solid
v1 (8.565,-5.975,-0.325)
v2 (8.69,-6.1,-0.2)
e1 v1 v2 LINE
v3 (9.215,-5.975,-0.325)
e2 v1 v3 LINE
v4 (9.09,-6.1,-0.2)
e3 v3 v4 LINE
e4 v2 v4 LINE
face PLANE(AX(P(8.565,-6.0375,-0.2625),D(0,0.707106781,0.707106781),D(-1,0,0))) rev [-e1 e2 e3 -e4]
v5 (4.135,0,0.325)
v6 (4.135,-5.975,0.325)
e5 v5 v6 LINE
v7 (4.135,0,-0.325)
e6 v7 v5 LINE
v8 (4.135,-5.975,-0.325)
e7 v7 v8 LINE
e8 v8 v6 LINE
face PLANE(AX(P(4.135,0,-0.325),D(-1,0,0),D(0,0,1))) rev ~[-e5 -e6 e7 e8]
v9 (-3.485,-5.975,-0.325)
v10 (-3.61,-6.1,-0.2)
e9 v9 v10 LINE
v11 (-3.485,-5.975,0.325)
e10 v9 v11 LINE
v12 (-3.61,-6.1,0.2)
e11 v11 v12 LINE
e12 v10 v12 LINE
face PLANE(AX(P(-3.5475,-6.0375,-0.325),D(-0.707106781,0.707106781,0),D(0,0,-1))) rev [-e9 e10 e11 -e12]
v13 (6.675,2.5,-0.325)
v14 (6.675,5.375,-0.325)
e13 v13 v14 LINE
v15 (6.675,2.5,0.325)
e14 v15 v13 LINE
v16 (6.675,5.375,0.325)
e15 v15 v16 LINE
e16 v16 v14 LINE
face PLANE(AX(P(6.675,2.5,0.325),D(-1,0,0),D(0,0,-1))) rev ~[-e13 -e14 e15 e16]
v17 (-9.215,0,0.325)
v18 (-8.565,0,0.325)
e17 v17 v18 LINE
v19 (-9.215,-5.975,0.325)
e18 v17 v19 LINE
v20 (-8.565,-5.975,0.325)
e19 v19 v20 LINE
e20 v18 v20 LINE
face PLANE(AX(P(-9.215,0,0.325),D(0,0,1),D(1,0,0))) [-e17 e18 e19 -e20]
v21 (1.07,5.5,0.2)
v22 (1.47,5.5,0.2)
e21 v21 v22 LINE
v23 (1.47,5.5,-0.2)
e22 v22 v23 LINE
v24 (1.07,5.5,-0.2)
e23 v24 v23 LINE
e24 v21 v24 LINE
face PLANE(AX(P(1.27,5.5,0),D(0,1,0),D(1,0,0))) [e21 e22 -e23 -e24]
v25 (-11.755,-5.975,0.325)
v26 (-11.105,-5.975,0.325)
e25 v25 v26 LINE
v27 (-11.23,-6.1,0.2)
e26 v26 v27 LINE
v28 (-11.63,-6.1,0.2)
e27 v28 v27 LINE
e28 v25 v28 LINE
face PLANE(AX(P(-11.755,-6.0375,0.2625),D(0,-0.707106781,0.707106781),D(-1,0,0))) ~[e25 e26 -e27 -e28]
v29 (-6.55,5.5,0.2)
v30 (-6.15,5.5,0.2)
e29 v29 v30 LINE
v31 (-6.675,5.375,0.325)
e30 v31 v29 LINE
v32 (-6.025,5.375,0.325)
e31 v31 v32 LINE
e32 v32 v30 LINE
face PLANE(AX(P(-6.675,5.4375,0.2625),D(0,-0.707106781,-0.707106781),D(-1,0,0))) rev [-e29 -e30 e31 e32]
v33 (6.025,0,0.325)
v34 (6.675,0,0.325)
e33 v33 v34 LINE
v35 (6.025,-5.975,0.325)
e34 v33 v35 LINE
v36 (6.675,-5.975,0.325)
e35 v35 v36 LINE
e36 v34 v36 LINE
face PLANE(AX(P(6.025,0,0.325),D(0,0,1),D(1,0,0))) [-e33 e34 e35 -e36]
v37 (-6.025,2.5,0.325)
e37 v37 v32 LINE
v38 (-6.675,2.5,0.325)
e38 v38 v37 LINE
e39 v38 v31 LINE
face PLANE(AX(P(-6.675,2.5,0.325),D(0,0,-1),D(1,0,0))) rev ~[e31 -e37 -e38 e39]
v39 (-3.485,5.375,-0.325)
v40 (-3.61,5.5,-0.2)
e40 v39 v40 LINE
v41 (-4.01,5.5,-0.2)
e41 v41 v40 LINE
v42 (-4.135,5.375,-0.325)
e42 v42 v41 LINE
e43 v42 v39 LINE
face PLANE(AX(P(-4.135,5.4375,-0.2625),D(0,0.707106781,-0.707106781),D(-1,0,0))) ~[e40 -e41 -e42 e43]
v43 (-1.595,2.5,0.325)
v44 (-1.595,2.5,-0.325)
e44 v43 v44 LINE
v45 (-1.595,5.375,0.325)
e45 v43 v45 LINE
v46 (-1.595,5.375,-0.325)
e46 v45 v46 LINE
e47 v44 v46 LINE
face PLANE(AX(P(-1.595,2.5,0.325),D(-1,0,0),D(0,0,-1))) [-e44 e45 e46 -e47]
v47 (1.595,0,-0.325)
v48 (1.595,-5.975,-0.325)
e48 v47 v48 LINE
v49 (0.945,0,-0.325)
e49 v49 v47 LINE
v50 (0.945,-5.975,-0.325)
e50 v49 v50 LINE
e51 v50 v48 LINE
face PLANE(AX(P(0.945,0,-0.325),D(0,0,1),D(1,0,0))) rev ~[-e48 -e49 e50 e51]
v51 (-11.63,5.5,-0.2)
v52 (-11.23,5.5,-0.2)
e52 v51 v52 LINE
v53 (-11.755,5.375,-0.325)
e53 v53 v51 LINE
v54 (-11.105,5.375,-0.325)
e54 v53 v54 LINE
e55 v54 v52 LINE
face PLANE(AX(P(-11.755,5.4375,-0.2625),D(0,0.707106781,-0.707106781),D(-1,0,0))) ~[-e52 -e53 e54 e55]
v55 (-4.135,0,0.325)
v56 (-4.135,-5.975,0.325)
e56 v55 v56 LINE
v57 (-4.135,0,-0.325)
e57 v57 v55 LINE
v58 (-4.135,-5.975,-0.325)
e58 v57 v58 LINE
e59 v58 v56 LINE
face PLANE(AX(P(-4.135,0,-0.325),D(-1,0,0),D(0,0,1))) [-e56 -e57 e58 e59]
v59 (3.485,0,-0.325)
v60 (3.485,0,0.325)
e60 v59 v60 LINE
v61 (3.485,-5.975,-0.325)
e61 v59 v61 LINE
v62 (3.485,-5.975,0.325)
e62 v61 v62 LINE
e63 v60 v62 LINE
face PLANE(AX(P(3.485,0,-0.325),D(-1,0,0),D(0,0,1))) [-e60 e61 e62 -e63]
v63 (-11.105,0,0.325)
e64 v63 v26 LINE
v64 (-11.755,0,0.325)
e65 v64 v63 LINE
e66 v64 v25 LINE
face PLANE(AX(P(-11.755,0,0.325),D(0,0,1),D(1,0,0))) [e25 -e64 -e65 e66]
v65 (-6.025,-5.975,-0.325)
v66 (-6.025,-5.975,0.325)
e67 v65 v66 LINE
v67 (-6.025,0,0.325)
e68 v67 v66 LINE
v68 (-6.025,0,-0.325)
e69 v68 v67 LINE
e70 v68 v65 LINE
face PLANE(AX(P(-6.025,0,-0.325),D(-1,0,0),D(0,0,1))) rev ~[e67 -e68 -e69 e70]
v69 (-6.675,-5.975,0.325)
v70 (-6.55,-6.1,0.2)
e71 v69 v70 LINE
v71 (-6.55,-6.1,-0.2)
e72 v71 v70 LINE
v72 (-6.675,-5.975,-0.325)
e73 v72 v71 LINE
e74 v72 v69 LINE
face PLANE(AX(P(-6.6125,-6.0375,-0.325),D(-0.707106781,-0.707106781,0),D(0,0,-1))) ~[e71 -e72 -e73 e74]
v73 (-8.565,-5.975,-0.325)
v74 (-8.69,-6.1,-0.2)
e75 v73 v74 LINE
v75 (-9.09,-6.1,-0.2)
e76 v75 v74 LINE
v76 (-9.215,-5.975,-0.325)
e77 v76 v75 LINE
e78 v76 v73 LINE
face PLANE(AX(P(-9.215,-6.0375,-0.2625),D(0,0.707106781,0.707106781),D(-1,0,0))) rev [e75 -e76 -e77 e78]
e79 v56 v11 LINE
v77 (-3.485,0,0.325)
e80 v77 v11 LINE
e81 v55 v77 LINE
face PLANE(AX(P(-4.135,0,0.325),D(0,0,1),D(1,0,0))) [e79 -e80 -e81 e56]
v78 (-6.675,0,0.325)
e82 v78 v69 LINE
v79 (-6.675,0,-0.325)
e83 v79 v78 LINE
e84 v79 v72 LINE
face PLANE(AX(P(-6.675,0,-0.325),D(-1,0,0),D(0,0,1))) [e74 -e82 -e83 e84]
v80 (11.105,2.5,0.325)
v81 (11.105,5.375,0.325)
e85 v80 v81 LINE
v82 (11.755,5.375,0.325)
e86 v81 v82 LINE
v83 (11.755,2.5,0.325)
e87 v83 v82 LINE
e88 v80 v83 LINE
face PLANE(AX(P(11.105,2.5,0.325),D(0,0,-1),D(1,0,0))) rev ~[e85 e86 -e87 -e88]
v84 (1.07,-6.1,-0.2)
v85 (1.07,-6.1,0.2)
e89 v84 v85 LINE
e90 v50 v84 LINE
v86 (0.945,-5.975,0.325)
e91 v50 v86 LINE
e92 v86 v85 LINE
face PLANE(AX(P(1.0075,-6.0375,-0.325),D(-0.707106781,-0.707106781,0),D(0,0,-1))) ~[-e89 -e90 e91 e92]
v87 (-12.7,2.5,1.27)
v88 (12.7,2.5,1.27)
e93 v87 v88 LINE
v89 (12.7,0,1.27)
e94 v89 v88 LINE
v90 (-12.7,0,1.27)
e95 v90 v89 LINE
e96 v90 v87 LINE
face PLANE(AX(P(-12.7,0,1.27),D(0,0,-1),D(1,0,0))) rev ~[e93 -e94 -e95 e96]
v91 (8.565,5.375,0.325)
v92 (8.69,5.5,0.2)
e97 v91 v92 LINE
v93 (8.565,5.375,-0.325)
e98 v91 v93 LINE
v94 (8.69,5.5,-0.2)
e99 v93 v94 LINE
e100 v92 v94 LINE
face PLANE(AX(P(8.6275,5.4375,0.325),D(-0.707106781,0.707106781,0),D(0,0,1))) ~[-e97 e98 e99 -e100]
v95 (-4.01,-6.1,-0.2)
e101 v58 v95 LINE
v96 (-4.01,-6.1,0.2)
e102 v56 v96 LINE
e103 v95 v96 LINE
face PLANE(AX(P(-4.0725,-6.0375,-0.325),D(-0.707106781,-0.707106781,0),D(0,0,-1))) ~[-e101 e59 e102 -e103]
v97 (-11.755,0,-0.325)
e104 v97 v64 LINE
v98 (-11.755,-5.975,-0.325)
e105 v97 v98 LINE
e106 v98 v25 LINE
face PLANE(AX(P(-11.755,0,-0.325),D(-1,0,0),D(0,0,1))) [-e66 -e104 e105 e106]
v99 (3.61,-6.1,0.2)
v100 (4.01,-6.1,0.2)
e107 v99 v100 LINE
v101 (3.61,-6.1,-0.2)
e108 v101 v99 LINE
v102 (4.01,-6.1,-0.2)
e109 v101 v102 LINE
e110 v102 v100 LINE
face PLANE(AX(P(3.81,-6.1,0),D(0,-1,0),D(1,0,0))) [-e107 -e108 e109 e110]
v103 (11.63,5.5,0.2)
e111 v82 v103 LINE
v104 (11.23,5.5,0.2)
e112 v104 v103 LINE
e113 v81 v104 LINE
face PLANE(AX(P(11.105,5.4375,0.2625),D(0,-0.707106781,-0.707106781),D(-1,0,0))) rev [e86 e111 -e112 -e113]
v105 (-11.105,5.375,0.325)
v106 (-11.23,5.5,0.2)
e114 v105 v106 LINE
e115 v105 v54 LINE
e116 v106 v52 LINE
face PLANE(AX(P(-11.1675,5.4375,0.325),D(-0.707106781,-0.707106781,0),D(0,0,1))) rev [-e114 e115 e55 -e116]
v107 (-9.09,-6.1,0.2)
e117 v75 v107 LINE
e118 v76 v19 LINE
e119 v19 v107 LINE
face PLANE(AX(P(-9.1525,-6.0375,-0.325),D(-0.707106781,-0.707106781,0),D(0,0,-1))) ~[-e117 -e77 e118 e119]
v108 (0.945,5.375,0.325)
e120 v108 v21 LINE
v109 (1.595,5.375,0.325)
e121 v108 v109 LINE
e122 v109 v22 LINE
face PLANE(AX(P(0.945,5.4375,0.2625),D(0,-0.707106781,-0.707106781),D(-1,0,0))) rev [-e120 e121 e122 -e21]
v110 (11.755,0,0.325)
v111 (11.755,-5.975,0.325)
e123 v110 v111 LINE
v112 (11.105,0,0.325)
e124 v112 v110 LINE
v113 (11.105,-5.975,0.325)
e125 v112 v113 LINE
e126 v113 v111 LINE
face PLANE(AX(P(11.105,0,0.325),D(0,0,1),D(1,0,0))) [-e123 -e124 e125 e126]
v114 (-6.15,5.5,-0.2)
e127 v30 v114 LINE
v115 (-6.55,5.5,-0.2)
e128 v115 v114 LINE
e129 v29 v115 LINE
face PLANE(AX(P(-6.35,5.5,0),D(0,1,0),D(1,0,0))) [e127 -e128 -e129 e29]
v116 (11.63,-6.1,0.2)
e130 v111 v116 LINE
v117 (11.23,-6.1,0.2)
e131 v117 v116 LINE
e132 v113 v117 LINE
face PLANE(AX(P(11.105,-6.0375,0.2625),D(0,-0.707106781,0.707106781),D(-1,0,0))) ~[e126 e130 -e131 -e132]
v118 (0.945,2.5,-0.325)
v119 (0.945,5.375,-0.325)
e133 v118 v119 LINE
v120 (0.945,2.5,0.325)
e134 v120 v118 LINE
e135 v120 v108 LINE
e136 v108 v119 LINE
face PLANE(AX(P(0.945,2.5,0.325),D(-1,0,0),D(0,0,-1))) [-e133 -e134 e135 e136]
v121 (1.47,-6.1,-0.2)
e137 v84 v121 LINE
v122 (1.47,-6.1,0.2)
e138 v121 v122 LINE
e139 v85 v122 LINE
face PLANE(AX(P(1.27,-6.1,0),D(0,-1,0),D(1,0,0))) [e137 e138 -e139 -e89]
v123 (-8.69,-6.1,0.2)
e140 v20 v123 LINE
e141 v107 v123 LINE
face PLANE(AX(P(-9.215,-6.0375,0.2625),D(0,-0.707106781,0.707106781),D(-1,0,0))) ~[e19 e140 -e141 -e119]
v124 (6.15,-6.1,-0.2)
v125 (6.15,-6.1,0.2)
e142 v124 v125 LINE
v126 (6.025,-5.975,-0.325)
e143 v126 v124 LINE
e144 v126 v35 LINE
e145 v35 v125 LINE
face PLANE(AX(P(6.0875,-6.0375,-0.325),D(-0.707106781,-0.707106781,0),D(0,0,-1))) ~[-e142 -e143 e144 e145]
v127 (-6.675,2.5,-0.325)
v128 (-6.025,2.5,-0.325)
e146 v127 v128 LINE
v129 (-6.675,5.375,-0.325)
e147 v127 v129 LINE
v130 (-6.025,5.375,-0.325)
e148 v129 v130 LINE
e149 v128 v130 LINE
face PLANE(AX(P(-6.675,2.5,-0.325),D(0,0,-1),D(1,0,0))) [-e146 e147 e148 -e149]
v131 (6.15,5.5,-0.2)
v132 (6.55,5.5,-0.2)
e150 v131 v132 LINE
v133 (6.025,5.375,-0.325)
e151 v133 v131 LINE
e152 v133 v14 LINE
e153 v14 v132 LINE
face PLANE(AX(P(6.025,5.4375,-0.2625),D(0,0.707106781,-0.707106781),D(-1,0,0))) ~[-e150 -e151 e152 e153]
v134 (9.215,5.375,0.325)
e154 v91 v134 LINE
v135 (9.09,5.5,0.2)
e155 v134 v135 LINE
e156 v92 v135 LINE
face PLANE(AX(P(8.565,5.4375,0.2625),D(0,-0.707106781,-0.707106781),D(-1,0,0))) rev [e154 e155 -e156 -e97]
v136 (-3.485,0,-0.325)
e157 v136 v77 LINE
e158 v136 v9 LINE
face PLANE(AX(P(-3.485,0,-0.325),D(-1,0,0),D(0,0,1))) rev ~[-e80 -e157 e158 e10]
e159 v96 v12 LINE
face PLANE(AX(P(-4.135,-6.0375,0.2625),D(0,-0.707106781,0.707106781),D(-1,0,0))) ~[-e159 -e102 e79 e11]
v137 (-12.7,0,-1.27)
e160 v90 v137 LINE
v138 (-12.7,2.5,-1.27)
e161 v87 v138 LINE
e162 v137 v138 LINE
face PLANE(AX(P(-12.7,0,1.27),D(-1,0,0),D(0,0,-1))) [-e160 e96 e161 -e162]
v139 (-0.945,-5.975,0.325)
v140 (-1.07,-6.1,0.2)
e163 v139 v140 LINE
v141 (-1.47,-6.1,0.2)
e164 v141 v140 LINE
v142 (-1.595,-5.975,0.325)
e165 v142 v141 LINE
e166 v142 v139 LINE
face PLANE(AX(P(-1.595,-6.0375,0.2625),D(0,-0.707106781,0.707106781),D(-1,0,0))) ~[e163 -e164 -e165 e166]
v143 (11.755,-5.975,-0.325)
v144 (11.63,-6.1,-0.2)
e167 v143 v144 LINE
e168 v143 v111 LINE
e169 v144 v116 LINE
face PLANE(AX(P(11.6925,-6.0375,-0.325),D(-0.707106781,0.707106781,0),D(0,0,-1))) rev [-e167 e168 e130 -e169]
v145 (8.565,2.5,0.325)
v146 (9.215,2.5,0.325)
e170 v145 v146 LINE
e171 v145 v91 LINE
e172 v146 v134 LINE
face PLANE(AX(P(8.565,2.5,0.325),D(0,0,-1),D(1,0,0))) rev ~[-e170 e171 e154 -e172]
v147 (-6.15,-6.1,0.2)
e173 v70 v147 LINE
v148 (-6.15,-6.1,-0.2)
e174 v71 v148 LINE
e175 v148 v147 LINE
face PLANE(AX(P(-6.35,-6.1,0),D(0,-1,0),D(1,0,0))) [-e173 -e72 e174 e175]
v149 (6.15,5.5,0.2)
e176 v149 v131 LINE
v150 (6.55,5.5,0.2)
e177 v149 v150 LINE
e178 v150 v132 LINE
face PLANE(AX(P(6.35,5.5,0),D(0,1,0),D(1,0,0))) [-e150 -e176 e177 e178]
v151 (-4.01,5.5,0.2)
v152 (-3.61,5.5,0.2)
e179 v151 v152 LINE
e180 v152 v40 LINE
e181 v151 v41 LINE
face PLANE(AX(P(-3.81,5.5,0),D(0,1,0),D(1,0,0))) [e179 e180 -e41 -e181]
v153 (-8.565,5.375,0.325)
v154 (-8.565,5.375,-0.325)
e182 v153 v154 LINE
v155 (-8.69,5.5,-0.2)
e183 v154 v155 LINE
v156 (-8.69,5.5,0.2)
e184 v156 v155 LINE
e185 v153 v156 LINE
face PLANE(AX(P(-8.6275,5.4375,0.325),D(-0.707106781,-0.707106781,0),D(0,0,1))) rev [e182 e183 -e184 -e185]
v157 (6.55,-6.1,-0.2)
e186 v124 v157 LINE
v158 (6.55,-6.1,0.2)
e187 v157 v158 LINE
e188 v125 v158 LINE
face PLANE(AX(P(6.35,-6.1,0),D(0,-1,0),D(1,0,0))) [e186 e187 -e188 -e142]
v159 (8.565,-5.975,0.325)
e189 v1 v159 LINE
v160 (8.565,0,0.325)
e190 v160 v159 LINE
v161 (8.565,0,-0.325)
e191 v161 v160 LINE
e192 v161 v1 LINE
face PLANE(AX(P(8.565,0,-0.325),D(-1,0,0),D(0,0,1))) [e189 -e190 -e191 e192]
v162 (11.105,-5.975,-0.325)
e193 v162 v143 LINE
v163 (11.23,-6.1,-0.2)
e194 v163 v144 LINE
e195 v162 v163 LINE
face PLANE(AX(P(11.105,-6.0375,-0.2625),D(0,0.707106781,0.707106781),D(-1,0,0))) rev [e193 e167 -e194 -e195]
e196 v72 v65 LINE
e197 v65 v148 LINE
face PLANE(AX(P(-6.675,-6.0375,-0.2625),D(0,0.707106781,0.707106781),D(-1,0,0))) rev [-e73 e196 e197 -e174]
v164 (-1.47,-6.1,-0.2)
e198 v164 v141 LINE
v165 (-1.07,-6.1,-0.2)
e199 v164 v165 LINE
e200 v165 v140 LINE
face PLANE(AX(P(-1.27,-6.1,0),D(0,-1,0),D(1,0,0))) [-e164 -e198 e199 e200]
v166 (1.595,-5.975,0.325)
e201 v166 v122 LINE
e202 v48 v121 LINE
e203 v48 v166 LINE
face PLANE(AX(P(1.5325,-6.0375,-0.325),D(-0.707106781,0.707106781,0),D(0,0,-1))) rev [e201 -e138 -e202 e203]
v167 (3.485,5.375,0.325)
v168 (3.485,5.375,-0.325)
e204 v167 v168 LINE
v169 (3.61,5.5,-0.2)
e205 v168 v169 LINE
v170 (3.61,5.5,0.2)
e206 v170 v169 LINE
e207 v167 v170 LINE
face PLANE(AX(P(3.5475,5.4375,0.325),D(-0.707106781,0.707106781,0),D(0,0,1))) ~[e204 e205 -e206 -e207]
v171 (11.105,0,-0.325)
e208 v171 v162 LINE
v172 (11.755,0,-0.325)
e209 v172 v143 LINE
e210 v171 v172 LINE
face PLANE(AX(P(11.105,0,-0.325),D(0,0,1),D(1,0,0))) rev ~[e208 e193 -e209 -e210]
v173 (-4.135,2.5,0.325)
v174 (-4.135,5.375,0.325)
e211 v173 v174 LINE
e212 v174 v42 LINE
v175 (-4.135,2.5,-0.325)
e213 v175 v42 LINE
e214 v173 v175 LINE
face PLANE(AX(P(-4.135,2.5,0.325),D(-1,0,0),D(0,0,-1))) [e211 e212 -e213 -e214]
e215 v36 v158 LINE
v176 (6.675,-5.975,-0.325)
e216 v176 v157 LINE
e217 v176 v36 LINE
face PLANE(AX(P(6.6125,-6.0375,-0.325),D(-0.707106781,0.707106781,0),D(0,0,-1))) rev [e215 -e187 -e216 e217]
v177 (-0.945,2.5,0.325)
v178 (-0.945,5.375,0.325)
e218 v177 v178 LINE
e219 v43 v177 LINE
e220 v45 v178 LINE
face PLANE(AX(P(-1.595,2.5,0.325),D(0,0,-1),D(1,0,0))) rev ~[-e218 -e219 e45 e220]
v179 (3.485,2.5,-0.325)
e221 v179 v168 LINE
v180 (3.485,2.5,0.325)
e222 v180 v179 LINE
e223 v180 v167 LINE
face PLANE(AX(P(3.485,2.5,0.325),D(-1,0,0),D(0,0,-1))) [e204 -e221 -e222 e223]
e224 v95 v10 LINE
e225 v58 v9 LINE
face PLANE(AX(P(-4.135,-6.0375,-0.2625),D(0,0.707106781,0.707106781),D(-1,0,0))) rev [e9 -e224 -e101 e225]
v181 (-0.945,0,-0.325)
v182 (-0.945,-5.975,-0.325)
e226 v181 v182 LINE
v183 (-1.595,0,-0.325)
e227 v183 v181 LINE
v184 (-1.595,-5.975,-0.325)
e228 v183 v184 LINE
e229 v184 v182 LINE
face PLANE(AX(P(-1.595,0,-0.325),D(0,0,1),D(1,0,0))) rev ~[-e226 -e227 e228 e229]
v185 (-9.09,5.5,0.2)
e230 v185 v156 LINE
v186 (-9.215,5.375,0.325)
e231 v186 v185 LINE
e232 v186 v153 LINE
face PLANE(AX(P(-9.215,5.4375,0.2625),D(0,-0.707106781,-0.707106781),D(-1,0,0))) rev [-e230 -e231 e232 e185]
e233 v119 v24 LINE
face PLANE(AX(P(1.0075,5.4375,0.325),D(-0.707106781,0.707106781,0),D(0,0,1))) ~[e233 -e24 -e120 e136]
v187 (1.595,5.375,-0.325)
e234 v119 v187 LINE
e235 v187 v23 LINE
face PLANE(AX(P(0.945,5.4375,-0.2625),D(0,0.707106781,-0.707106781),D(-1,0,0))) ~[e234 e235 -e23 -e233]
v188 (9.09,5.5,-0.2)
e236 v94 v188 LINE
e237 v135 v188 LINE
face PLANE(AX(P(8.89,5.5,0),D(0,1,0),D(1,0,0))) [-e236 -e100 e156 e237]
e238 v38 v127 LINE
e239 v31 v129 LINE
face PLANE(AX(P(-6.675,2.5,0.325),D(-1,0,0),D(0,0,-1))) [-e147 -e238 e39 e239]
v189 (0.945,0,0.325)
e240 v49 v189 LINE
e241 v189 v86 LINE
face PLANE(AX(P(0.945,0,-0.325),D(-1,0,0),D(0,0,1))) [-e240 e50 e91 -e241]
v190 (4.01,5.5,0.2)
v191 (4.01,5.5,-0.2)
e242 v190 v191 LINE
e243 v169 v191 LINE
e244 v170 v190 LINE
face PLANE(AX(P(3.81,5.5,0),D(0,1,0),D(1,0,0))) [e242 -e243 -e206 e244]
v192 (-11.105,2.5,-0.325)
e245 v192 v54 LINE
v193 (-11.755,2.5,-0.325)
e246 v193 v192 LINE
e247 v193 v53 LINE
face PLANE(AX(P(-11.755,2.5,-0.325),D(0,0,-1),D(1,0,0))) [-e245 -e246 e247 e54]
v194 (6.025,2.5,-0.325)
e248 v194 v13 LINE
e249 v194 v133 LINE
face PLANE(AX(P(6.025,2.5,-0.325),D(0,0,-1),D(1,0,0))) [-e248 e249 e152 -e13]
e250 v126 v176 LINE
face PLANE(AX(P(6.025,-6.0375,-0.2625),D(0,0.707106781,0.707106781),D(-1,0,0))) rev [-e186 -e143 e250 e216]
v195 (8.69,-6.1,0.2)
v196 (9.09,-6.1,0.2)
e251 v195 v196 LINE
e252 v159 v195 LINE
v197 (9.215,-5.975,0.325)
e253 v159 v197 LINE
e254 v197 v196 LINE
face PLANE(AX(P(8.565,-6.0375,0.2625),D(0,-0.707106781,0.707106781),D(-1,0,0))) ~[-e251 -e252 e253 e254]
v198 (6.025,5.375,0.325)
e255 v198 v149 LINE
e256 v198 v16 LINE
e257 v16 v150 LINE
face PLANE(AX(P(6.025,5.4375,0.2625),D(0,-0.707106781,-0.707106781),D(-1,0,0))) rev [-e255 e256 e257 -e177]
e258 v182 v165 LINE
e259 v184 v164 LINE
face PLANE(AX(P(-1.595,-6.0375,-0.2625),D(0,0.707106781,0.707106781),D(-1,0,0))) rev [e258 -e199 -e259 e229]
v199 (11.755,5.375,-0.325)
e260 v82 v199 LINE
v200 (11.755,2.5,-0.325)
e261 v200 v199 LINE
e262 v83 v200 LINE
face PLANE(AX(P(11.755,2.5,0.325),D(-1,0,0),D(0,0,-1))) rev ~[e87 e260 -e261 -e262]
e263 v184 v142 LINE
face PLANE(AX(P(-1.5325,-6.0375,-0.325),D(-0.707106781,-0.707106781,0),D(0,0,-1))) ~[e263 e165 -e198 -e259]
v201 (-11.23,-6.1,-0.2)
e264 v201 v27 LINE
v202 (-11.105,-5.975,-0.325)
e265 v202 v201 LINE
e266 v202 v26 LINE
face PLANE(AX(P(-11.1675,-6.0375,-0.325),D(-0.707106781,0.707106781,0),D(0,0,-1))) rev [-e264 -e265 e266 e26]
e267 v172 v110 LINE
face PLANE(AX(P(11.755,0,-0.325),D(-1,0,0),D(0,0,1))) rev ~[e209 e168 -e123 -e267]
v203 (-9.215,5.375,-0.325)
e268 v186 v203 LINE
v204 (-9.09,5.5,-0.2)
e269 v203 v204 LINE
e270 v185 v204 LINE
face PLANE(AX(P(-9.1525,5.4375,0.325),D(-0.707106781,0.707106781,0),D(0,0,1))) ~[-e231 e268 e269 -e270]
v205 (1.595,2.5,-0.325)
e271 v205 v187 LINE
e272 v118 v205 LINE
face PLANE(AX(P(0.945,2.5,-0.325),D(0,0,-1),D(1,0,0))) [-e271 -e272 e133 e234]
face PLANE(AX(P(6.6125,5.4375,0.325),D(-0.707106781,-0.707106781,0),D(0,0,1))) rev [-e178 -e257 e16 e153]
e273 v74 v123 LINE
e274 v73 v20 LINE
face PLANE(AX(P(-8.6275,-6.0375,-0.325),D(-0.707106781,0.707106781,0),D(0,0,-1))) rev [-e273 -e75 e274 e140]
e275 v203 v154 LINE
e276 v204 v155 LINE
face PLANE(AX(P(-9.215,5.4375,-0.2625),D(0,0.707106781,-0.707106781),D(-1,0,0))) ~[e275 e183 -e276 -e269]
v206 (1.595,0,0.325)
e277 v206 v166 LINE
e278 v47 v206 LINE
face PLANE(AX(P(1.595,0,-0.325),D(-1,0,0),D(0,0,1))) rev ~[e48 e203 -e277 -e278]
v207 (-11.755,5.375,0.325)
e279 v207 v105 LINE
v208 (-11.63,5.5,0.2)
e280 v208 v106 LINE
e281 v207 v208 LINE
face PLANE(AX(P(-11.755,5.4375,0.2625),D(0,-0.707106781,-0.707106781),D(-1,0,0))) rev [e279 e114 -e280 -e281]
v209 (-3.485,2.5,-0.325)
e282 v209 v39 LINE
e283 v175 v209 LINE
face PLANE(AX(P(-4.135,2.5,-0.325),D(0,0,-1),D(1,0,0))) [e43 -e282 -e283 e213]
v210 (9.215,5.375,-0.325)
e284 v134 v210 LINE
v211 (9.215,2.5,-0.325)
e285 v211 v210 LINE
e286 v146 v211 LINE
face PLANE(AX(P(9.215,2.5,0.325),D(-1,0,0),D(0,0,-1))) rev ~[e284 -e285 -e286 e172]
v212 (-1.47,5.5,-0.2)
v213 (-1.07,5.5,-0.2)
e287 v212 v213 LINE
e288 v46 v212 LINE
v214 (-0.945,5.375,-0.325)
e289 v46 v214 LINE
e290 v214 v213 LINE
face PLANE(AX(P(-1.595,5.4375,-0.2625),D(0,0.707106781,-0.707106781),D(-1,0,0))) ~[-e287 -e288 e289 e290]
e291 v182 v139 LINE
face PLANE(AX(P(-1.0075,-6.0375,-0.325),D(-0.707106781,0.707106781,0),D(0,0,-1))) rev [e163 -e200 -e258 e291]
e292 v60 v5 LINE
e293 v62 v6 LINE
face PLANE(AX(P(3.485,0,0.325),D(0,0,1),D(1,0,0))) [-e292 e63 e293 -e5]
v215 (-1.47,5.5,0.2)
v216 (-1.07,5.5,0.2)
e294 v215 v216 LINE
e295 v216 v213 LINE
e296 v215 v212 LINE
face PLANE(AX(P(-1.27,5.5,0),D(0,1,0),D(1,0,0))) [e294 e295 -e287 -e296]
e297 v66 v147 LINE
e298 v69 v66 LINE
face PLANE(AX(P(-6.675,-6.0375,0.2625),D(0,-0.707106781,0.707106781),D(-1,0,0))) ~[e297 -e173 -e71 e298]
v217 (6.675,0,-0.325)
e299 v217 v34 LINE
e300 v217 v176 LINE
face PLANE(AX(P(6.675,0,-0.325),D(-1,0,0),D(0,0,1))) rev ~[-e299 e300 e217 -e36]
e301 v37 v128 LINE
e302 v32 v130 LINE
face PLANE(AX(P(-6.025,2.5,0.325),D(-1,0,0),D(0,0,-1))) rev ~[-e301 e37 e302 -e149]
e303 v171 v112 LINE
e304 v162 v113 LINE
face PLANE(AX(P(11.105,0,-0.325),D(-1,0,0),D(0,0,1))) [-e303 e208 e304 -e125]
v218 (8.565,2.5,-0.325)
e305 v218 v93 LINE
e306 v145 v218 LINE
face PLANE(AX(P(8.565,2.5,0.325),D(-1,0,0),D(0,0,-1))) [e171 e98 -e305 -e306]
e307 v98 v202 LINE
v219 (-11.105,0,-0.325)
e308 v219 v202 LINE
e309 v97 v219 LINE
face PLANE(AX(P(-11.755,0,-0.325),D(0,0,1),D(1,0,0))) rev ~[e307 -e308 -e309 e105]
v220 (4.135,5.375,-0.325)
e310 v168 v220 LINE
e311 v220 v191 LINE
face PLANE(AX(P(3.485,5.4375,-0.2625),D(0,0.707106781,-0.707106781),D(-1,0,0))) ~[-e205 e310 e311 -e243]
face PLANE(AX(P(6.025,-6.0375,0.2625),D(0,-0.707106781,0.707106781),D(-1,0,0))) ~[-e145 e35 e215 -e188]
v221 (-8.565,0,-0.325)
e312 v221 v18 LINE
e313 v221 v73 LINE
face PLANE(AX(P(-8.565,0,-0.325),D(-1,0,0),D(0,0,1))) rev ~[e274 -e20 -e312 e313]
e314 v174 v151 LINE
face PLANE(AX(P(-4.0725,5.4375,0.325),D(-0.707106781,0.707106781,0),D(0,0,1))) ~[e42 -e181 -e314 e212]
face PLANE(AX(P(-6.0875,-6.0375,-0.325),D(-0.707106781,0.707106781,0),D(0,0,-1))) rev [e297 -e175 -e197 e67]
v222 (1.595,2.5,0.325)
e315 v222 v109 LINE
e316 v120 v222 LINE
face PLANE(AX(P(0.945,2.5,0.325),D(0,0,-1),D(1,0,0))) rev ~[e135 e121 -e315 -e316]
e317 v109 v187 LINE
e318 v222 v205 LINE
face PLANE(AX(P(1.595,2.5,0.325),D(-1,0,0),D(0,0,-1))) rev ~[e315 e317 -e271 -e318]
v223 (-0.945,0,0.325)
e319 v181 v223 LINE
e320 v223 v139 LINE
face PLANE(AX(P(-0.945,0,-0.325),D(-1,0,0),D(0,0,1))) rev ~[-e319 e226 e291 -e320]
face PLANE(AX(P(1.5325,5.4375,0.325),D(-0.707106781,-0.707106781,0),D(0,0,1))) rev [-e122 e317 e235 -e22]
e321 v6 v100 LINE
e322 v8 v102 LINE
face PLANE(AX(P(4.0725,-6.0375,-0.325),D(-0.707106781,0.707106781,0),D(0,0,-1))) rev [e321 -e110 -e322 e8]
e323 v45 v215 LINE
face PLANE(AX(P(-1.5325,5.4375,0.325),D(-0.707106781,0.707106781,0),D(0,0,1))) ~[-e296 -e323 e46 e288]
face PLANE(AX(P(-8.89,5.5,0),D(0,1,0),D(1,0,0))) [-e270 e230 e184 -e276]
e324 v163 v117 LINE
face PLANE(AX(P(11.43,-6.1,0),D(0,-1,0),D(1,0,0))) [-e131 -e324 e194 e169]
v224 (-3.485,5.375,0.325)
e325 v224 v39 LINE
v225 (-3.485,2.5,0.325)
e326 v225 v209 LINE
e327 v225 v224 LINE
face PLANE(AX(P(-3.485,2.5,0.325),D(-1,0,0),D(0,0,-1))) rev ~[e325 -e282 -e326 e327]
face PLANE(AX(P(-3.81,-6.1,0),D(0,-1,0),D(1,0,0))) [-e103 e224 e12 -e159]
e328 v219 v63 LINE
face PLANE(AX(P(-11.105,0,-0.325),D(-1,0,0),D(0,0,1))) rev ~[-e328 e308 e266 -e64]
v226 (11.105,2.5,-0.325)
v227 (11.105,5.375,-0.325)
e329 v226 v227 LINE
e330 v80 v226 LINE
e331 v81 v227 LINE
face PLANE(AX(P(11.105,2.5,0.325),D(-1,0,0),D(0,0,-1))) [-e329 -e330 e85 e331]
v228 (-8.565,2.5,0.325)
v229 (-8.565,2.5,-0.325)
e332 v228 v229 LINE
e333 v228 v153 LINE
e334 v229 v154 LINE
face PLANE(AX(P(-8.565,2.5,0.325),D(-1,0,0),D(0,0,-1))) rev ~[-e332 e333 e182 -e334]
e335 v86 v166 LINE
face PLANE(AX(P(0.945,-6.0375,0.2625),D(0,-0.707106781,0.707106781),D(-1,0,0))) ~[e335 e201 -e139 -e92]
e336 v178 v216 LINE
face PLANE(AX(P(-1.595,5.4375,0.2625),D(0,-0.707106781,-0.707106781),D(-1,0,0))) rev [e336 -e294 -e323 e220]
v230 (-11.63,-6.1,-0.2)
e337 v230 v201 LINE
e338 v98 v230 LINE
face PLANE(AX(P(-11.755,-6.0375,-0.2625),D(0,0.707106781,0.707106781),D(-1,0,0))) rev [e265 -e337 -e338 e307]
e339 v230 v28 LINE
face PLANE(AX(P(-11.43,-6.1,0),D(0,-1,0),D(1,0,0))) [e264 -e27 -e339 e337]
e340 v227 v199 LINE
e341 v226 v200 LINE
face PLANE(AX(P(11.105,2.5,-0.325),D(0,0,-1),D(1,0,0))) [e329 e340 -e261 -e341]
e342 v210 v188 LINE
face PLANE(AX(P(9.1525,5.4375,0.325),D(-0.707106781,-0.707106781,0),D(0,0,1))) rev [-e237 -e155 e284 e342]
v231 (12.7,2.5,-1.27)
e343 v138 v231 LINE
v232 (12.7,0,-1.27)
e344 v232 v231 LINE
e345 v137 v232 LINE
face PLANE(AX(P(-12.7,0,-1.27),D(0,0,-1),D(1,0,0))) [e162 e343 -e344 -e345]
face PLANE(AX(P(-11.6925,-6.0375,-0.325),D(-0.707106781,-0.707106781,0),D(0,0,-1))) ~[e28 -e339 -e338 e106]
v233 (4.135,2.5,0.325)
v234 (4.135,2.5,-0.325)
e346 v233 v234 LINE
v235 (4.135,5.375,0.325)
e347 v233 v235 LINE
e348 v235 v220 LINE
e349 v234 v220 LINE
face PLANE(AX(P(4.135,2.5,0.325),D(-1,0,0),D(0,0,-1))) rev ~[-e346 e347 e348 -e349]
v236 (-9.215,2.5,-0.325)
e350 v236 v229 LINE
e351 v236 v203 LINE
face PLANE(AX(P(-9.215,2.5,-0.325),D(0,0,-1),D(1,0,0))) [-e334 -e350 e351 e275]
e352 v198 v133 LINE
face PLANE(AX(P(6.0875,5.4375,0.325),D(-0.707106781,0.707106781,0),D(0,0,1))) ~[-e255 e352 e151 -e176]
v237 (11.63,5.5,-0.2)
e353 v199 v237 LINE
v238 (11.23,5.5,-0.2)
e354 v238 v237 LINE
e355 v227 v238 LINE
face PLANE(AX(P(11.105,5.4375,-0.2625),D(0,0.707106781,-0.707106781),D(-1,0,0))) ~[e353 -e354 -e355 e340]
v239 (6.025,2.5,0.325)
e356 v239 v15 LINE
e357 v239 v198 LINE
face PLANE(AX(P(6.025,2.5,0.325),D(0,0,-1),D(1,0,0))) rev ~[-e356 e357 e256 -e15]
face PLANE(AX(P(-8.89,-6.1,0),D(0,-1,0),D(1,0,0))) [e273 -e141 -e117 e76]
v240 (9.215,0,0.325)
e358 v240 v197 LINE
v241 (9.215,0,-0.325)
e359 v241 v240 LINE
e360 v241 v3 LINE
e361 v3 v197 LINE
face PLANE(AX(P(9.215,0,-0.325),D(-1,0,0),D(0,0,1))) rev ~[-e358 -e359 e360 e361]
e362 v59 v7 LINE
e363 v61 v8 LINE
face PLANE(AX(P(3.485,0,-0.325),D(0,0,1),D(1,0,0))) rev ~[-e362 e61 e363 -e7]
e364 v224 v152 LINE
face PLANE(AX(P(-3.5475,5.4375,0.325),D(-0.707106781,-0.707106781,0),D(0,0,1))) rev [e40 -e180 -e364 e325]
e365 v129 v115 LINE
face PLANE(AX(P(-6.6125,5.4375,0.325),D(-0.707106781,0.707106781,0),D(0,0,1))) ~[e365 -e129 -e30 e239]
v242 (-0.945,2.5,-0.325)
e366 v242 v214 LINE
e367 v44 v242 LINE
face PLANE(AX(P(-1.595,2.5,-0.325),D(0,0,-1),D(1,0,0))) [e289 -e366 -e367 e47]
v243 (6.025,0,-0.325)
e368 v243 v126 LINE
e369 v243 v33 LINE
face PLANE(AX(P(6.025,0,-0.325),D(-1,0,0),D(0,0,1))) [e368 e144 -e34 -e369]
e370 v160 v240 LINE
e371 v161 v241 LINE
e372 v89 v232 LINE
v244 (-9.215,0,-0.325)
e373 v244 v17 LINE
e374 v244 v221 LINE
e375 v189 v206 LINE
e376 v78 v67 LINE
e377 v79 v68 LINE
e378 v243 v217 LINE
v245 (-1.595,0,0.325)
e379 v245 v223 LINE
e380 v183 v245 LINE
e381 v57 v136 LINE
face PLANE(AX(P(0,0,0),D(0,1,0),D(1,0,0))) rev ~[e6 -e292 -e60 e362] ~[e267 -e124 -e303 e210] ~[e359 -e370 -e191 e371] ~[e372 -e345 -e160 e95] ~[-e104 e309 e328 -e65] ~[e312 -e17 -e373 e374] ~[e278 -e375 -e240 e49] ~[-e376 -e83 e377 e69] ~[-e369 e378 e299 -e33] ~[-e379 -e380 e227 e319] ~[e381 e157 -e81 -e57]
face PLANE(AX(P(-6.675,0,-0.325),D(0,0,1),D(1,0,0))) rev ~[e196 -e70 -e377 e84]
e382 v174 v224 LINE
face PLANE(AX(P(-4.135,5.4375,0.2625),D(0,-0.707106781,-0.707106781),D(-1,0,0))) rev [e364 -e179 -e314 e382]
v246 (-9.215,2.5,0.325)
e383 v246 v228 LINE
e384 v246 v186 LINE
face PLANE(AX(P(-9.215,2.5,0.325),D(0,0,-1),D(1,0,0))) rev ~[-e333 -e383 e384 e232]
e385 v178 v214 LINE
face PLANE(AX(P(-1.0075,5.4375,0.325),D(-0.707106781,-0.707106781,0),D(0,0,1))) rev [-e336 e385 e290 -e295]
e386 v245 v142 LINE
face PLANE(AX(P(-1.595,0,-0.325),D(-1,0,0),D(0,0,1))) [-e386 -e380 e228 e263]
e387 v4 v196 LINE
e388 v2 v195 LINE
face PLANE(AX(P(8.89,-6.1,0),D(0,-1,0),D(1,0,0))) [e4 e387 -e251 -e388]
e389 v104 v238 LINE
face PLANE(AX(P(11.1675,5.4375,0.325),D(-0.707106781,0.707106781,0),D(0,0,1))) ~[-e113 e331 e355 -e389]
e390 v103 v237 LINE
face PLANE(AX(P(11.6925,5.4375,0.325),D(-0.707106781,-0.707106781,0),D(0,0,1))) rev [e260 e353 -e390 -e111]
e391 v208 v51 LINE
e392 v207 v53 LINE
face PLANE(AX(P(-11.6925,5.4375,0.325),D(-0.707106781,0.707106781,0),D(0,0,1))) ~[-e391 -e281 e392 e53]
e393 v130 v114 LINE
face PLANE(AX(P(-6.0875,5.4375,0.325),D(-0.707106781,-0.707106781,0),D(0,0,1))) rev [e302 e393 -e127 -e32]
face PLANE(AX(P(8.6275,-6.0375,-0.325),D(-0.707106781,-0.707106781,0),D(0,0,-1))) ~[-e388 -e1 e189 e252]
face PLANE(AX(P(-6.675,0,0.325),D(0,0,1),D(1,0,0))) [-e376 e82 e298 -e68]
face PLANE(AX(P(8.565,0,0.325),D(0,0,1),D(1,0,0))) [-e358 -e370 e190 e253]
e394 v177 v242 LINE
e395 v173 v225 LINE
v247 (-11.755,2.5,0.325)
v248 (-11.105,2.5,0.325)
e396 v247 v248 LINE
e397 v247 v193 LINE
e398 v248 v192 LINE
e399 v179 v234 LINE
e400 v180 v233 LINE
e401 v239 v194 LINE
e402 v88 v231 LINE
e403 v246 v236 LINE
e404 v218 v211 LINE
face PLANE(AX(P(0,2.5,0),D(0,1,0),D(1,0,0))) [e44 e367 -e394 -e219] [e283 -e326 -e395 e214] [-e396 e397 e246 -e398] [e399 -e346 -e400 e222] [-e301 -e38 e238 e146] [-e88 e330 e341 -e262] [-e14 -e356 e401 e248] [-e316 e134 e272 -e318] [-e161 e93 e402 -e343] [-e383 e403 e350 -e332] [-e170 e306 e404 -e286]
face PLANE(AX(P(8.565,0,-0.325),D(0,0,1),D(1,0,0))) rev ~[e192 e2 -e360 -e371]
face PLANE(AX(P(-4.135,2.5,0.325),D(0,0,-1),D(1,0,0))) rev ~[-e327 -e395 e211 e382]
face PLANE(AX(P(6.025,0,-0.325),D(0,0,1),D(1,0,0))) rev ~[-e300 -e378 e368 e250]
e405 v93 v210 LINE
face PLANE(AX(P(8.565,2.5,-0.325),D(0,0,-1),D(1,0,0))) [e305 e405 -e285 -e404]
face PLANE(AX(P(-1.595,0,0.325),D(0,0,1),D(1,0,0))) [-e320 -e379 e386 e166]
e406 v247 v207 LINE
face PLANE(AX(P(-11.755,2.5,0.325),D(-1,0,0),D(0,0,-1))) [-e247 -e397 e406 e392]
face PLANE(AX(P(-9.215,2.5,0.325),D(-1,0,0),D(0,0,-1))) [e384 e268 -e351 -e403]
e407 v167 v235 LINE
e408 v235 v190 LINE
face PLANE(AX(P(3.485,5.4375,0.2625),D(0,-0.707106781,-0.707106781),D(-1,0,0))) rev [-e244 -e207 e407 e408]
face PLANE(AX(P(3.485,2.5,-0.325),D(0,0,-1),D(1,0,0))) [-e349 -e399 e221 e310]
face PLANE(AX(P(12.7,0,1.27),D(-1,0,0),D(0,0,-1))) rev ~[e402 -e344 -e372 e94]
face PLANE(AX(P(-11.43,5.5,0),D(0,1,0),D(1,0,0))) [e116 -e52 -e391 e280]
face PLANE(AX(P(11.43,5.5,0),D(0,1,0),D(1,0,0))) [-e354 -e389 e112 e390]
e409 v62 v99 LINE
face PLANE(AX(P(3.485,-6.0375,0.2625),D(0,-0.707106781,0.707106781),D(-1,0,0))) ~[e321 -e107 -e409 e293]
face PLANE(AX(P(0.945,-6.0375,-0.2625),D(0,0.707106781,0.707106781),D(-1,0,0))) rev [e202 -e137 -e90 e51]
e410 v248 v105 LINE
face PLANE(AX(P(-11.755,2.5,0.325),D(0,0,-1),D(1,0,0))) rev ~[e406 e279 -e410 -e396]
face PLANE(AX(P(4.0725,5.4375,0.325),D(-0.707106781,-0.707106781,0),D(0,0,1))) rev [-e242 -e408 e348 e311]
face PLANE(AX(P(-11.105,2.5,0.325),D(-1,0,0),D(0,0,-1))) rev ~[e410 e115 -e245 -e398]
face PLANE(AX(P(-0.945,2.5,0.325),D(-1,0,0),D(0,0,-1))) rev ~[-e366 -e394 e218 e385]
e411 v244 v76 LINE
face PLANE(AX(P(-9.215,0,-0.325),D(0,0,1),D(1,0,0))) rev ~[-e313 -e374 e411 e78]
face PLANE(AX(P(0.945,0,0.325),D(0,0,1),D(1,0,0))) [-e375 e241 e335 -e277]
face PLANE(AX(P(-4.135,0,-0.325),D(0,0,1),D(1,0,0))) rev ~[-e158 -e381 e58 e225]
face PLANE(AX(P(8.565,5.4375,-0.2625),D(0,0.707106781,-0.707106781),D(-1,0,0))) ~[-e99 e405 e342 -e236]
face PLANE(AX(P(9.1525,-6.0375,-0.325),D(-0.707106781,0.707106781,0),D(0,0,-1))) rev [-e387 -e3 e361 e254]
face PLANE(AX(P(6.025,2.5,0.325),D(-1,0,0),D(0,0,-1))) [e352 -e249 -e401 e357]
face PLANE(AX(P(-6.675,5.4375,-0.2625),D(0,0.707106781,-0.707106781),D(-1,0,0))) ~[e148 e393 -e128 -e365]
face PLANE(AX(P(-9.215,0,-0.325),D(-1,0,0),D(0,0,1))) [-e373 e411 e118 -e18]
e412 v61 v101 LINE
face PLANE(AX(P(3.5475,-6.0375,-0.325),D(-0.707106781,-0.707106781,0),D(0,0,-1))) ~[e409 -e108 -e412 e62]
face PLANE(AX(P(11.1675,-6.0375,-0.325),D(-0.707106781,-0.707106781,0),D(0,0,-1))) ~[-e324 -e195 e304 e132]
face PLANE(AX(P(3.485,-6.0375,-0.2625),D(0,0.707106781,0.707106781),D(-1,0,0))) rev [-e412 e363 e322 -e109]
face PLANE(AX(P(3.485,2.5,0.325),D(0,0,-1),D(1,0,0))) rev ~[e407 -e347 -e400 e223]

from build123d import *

# Parameters (mm, degrees)
SKETCH3_W           = 25.4
SKETCH3_H           = 2.54
BOSS_EXTRUDE1_DEPTH = 2.5
SKETCH4_W           = 0.65
SKETCH4_H           = 0.65
BOSS_EXTRUDE2_DEPTH = 3
SKETCH5_W           = 0.65
SKETCH5_H           = 0.65
BOSS_EXTRUDE3_DEPTH = 6.1
CHAMFER1_SIZE       = 0.125


with BuildPart() as part:
    # Sketch3 → Boss-Extrude1 (new body)
    with BuildSketch(Plane(origin=(0, 0, 0), x_dir=(1, 0, 0), z_dir=(0, 1, 0))):
        Rectangle(SKETCH3_W, SKETCH3_H)
    extrude(amount=BOSS_EXTRUDE1_DEPTH)

    # Sketch4 → Boss-Extrude2 (add)
    with BuildSketch(Plane(origin=(0, 2.5, 0), x_dir=(1, 0, 0), z_dir=(0, 1, 0))):
        with Locations((1.27, 0)):
            Rectangle(SKETCH4_W, SKETCH4_H)
        with Locations((3.81, 0)):
            Rectangle(SKETCH4_W, SKETCH4_H)
        with Locations((6.35, 0)):
            Rectangle(SKETCH4_W, SKETCH4_H)
        with Locations((8.89, 0)):
            Rectangle(SKETCH4_W, SKETCH4_H)
        with Locations((11.43, 0)):
            Rectangle(SKETCH4_W, SKETCH4_H)
        with Locations((-3.81, 0)):
            Rectangle(SKETCH4_W, SKETCH4_H)
        with Locations((-6.35, 0)):
            Rectangle(SKETCH4_W, SKETCH4_H)
        with Locations((-1.27, 0)):
            Rectangle(SKETCH4_W, SKETCH4_H)
        with Locations((-8.89, 0)):
            Rectangle(SKETCH4_W, SKETCH4_H)
        with Locations((-11.43, 0)):
            Rectangle(SKETCH4_W, SKETCH4_H)
    extrude(amount=BOSS_EXTRUDE2_DEPTH)

    # Sketch5 → Boss-Extrude3 (add)
    with BuildSketch(Plane.XZ):
        with Locations((1.27, 0)):
            Rectangle(SKETCH5_W, SKETCH5_H)
        with Locations((3.81, 0)):
            Rectangle(SKETCH5_W, SKETCH5_H)
        with Locations((6.35, 0)):
            Rectangle(SKETCH5_W, SKETCH5_H)
        with Locations((8.89, 0)):
            Rectangle(SKETCH5_W, SKETCH5_H)
        with Locations((11.43, 0)):
            Rectangle(SKETCH5_W, SKETCH5_H)
        with Locations((-3.81, 0)):
            Rectangle(SKETCH5_W, SKETCH5_H)
        with Locations((-6.35, 0)):
            Rectangle(SKETCH5_W, SKETCH5_H)
        with Locations((-1.27, 0)):
            Rectangle(SKETCH5_W, SKETCH5_H)
        with Locations((-8.89, 0)):
            Rectangle(SKETCH5_W, SKETCH5_H)
        with Locations((-11.43, 0)):
            Rectangle(SKETCH5_W, SKETCH5_H)
    extrude(amount=BOSS_EXTRUDE3_DEPTH)

    # Chamfer1
    chamfer1_edges = [part.edges().sort_by_distance(p)[0] for p in [
        (-8.565, 5.5, 0),
        (-8.89, 5.5, -0.325),
        (-9.215, 5.5, 0),
        (-8.89, 5.5, 0.325),
        (-11.105, 5.5, 0),
        (-11.43, 5.5, -0.325),
        (-11.755, 5.5, 0),
        (-11.43, 5.5, 0.325),
        (1.595, -6.1, 0),
        (1.27, -6.1, 0.325),
        (0.945, -6.1, 0),
        (1.27, -6.1, -0.325),
        (4.135, -6.1, 0),
        (3.81, -6.1, 0.325),
        (3.485, -6.1, 0),
        (3.81, -6.1, -0.325),
        (6.675, -6.1, 0),
        (6.35, -6.1, 0.325),
        (6.025, -6.1, 0),
        (6.35, -6.1, -0.325),
        (9.215, -6.1, 0),
        (8.89, -6.1, 0.325),
        (8.565, -6.1, 0),
        (8.89, -6.1, -0.325),
        (1.595, 5.5, 0),
        (1.27, 5.5, -0.325),
        (0.945, 5.5, 0),
        (11.755, -6.1, 0),
        (11.43, -6.1, 0.325),
        (11.105, -6.1, 0),
        (11.43, -6.1, -0.325),
        (1.27, 5.5, 0.325),
        (-3.485, -6.1, 0),
        (-3.81, -6.1, 0.325),
        (-4.135, -6.1, 0),
        (-3.81, -6.1, -0.325),
        (-0.945, -6.1, 0),
        (-1.27, -6.1, 0.325),
        (-1.595, -6.1, 0),
        (-1.27, -6.1, -0.325),
        (-6.025, -6.1, 0),
        (-6.35, -6.1, 0.325),
        (-6.675, -6.1, 0),
        (-6.35, -6.1, -0.325),
        (-8.565, -6.1, 0),
        (-8.89, -6.1, 0.325),
        (-9.215, -6.1, 0),
        (-8.89, -6.1, -0.325),
        (-11.105, -6.1, 0),
        (-11.43, -6.1, 0.325),
        (-11.755, -6.1, 0),
        (-11.43, -6.1, -0.325),
        (-3.485, 5.5, 0),
        (-3.81, 5.5, -0.325),
        (-4.135, 5.5, 0),
        (-3.81, 5.5, 0.325),
        (4.135, 5.5, 0),
        (3.81, 5.5, -0.325),
        (3.485, 5.5, 0),
        (3.81, 5.5, 0.325),
        (6.675, 5.5, 0),
        (6.35, 5.5, -0.325),
        (6.025, 5.5, 0),
        (6.35, 5.5, 0.325),
        (9.215, 5.5, 0),
        (8.89, 5.5, -0.325),
        (8.565, 5.5, 0),
        (8.89, 5.5, 0.325),
        (11.755, 5.5, 0),
        (11.43, 5.5, -0.325),
        (11.105, 5.5, 0),
        (11.43, 5.5, 0.325),
        (-0.945, 5.5, 0),
        (-1.27, 5.5, -0.325),
        (-1.595, 5.5, 0),
        (-1.27, 5.5, 0.325),
        (-6.025, 5.5, 0),
        (-6.35, 5.5, -0.325),
        (-6.675, 5.5, 0),
        (-6.35, 5.5, 0.325),
    ]]
    chamfer(chamfer1_edges, length=CHAMFER1_SIZE)


solid = part.part
